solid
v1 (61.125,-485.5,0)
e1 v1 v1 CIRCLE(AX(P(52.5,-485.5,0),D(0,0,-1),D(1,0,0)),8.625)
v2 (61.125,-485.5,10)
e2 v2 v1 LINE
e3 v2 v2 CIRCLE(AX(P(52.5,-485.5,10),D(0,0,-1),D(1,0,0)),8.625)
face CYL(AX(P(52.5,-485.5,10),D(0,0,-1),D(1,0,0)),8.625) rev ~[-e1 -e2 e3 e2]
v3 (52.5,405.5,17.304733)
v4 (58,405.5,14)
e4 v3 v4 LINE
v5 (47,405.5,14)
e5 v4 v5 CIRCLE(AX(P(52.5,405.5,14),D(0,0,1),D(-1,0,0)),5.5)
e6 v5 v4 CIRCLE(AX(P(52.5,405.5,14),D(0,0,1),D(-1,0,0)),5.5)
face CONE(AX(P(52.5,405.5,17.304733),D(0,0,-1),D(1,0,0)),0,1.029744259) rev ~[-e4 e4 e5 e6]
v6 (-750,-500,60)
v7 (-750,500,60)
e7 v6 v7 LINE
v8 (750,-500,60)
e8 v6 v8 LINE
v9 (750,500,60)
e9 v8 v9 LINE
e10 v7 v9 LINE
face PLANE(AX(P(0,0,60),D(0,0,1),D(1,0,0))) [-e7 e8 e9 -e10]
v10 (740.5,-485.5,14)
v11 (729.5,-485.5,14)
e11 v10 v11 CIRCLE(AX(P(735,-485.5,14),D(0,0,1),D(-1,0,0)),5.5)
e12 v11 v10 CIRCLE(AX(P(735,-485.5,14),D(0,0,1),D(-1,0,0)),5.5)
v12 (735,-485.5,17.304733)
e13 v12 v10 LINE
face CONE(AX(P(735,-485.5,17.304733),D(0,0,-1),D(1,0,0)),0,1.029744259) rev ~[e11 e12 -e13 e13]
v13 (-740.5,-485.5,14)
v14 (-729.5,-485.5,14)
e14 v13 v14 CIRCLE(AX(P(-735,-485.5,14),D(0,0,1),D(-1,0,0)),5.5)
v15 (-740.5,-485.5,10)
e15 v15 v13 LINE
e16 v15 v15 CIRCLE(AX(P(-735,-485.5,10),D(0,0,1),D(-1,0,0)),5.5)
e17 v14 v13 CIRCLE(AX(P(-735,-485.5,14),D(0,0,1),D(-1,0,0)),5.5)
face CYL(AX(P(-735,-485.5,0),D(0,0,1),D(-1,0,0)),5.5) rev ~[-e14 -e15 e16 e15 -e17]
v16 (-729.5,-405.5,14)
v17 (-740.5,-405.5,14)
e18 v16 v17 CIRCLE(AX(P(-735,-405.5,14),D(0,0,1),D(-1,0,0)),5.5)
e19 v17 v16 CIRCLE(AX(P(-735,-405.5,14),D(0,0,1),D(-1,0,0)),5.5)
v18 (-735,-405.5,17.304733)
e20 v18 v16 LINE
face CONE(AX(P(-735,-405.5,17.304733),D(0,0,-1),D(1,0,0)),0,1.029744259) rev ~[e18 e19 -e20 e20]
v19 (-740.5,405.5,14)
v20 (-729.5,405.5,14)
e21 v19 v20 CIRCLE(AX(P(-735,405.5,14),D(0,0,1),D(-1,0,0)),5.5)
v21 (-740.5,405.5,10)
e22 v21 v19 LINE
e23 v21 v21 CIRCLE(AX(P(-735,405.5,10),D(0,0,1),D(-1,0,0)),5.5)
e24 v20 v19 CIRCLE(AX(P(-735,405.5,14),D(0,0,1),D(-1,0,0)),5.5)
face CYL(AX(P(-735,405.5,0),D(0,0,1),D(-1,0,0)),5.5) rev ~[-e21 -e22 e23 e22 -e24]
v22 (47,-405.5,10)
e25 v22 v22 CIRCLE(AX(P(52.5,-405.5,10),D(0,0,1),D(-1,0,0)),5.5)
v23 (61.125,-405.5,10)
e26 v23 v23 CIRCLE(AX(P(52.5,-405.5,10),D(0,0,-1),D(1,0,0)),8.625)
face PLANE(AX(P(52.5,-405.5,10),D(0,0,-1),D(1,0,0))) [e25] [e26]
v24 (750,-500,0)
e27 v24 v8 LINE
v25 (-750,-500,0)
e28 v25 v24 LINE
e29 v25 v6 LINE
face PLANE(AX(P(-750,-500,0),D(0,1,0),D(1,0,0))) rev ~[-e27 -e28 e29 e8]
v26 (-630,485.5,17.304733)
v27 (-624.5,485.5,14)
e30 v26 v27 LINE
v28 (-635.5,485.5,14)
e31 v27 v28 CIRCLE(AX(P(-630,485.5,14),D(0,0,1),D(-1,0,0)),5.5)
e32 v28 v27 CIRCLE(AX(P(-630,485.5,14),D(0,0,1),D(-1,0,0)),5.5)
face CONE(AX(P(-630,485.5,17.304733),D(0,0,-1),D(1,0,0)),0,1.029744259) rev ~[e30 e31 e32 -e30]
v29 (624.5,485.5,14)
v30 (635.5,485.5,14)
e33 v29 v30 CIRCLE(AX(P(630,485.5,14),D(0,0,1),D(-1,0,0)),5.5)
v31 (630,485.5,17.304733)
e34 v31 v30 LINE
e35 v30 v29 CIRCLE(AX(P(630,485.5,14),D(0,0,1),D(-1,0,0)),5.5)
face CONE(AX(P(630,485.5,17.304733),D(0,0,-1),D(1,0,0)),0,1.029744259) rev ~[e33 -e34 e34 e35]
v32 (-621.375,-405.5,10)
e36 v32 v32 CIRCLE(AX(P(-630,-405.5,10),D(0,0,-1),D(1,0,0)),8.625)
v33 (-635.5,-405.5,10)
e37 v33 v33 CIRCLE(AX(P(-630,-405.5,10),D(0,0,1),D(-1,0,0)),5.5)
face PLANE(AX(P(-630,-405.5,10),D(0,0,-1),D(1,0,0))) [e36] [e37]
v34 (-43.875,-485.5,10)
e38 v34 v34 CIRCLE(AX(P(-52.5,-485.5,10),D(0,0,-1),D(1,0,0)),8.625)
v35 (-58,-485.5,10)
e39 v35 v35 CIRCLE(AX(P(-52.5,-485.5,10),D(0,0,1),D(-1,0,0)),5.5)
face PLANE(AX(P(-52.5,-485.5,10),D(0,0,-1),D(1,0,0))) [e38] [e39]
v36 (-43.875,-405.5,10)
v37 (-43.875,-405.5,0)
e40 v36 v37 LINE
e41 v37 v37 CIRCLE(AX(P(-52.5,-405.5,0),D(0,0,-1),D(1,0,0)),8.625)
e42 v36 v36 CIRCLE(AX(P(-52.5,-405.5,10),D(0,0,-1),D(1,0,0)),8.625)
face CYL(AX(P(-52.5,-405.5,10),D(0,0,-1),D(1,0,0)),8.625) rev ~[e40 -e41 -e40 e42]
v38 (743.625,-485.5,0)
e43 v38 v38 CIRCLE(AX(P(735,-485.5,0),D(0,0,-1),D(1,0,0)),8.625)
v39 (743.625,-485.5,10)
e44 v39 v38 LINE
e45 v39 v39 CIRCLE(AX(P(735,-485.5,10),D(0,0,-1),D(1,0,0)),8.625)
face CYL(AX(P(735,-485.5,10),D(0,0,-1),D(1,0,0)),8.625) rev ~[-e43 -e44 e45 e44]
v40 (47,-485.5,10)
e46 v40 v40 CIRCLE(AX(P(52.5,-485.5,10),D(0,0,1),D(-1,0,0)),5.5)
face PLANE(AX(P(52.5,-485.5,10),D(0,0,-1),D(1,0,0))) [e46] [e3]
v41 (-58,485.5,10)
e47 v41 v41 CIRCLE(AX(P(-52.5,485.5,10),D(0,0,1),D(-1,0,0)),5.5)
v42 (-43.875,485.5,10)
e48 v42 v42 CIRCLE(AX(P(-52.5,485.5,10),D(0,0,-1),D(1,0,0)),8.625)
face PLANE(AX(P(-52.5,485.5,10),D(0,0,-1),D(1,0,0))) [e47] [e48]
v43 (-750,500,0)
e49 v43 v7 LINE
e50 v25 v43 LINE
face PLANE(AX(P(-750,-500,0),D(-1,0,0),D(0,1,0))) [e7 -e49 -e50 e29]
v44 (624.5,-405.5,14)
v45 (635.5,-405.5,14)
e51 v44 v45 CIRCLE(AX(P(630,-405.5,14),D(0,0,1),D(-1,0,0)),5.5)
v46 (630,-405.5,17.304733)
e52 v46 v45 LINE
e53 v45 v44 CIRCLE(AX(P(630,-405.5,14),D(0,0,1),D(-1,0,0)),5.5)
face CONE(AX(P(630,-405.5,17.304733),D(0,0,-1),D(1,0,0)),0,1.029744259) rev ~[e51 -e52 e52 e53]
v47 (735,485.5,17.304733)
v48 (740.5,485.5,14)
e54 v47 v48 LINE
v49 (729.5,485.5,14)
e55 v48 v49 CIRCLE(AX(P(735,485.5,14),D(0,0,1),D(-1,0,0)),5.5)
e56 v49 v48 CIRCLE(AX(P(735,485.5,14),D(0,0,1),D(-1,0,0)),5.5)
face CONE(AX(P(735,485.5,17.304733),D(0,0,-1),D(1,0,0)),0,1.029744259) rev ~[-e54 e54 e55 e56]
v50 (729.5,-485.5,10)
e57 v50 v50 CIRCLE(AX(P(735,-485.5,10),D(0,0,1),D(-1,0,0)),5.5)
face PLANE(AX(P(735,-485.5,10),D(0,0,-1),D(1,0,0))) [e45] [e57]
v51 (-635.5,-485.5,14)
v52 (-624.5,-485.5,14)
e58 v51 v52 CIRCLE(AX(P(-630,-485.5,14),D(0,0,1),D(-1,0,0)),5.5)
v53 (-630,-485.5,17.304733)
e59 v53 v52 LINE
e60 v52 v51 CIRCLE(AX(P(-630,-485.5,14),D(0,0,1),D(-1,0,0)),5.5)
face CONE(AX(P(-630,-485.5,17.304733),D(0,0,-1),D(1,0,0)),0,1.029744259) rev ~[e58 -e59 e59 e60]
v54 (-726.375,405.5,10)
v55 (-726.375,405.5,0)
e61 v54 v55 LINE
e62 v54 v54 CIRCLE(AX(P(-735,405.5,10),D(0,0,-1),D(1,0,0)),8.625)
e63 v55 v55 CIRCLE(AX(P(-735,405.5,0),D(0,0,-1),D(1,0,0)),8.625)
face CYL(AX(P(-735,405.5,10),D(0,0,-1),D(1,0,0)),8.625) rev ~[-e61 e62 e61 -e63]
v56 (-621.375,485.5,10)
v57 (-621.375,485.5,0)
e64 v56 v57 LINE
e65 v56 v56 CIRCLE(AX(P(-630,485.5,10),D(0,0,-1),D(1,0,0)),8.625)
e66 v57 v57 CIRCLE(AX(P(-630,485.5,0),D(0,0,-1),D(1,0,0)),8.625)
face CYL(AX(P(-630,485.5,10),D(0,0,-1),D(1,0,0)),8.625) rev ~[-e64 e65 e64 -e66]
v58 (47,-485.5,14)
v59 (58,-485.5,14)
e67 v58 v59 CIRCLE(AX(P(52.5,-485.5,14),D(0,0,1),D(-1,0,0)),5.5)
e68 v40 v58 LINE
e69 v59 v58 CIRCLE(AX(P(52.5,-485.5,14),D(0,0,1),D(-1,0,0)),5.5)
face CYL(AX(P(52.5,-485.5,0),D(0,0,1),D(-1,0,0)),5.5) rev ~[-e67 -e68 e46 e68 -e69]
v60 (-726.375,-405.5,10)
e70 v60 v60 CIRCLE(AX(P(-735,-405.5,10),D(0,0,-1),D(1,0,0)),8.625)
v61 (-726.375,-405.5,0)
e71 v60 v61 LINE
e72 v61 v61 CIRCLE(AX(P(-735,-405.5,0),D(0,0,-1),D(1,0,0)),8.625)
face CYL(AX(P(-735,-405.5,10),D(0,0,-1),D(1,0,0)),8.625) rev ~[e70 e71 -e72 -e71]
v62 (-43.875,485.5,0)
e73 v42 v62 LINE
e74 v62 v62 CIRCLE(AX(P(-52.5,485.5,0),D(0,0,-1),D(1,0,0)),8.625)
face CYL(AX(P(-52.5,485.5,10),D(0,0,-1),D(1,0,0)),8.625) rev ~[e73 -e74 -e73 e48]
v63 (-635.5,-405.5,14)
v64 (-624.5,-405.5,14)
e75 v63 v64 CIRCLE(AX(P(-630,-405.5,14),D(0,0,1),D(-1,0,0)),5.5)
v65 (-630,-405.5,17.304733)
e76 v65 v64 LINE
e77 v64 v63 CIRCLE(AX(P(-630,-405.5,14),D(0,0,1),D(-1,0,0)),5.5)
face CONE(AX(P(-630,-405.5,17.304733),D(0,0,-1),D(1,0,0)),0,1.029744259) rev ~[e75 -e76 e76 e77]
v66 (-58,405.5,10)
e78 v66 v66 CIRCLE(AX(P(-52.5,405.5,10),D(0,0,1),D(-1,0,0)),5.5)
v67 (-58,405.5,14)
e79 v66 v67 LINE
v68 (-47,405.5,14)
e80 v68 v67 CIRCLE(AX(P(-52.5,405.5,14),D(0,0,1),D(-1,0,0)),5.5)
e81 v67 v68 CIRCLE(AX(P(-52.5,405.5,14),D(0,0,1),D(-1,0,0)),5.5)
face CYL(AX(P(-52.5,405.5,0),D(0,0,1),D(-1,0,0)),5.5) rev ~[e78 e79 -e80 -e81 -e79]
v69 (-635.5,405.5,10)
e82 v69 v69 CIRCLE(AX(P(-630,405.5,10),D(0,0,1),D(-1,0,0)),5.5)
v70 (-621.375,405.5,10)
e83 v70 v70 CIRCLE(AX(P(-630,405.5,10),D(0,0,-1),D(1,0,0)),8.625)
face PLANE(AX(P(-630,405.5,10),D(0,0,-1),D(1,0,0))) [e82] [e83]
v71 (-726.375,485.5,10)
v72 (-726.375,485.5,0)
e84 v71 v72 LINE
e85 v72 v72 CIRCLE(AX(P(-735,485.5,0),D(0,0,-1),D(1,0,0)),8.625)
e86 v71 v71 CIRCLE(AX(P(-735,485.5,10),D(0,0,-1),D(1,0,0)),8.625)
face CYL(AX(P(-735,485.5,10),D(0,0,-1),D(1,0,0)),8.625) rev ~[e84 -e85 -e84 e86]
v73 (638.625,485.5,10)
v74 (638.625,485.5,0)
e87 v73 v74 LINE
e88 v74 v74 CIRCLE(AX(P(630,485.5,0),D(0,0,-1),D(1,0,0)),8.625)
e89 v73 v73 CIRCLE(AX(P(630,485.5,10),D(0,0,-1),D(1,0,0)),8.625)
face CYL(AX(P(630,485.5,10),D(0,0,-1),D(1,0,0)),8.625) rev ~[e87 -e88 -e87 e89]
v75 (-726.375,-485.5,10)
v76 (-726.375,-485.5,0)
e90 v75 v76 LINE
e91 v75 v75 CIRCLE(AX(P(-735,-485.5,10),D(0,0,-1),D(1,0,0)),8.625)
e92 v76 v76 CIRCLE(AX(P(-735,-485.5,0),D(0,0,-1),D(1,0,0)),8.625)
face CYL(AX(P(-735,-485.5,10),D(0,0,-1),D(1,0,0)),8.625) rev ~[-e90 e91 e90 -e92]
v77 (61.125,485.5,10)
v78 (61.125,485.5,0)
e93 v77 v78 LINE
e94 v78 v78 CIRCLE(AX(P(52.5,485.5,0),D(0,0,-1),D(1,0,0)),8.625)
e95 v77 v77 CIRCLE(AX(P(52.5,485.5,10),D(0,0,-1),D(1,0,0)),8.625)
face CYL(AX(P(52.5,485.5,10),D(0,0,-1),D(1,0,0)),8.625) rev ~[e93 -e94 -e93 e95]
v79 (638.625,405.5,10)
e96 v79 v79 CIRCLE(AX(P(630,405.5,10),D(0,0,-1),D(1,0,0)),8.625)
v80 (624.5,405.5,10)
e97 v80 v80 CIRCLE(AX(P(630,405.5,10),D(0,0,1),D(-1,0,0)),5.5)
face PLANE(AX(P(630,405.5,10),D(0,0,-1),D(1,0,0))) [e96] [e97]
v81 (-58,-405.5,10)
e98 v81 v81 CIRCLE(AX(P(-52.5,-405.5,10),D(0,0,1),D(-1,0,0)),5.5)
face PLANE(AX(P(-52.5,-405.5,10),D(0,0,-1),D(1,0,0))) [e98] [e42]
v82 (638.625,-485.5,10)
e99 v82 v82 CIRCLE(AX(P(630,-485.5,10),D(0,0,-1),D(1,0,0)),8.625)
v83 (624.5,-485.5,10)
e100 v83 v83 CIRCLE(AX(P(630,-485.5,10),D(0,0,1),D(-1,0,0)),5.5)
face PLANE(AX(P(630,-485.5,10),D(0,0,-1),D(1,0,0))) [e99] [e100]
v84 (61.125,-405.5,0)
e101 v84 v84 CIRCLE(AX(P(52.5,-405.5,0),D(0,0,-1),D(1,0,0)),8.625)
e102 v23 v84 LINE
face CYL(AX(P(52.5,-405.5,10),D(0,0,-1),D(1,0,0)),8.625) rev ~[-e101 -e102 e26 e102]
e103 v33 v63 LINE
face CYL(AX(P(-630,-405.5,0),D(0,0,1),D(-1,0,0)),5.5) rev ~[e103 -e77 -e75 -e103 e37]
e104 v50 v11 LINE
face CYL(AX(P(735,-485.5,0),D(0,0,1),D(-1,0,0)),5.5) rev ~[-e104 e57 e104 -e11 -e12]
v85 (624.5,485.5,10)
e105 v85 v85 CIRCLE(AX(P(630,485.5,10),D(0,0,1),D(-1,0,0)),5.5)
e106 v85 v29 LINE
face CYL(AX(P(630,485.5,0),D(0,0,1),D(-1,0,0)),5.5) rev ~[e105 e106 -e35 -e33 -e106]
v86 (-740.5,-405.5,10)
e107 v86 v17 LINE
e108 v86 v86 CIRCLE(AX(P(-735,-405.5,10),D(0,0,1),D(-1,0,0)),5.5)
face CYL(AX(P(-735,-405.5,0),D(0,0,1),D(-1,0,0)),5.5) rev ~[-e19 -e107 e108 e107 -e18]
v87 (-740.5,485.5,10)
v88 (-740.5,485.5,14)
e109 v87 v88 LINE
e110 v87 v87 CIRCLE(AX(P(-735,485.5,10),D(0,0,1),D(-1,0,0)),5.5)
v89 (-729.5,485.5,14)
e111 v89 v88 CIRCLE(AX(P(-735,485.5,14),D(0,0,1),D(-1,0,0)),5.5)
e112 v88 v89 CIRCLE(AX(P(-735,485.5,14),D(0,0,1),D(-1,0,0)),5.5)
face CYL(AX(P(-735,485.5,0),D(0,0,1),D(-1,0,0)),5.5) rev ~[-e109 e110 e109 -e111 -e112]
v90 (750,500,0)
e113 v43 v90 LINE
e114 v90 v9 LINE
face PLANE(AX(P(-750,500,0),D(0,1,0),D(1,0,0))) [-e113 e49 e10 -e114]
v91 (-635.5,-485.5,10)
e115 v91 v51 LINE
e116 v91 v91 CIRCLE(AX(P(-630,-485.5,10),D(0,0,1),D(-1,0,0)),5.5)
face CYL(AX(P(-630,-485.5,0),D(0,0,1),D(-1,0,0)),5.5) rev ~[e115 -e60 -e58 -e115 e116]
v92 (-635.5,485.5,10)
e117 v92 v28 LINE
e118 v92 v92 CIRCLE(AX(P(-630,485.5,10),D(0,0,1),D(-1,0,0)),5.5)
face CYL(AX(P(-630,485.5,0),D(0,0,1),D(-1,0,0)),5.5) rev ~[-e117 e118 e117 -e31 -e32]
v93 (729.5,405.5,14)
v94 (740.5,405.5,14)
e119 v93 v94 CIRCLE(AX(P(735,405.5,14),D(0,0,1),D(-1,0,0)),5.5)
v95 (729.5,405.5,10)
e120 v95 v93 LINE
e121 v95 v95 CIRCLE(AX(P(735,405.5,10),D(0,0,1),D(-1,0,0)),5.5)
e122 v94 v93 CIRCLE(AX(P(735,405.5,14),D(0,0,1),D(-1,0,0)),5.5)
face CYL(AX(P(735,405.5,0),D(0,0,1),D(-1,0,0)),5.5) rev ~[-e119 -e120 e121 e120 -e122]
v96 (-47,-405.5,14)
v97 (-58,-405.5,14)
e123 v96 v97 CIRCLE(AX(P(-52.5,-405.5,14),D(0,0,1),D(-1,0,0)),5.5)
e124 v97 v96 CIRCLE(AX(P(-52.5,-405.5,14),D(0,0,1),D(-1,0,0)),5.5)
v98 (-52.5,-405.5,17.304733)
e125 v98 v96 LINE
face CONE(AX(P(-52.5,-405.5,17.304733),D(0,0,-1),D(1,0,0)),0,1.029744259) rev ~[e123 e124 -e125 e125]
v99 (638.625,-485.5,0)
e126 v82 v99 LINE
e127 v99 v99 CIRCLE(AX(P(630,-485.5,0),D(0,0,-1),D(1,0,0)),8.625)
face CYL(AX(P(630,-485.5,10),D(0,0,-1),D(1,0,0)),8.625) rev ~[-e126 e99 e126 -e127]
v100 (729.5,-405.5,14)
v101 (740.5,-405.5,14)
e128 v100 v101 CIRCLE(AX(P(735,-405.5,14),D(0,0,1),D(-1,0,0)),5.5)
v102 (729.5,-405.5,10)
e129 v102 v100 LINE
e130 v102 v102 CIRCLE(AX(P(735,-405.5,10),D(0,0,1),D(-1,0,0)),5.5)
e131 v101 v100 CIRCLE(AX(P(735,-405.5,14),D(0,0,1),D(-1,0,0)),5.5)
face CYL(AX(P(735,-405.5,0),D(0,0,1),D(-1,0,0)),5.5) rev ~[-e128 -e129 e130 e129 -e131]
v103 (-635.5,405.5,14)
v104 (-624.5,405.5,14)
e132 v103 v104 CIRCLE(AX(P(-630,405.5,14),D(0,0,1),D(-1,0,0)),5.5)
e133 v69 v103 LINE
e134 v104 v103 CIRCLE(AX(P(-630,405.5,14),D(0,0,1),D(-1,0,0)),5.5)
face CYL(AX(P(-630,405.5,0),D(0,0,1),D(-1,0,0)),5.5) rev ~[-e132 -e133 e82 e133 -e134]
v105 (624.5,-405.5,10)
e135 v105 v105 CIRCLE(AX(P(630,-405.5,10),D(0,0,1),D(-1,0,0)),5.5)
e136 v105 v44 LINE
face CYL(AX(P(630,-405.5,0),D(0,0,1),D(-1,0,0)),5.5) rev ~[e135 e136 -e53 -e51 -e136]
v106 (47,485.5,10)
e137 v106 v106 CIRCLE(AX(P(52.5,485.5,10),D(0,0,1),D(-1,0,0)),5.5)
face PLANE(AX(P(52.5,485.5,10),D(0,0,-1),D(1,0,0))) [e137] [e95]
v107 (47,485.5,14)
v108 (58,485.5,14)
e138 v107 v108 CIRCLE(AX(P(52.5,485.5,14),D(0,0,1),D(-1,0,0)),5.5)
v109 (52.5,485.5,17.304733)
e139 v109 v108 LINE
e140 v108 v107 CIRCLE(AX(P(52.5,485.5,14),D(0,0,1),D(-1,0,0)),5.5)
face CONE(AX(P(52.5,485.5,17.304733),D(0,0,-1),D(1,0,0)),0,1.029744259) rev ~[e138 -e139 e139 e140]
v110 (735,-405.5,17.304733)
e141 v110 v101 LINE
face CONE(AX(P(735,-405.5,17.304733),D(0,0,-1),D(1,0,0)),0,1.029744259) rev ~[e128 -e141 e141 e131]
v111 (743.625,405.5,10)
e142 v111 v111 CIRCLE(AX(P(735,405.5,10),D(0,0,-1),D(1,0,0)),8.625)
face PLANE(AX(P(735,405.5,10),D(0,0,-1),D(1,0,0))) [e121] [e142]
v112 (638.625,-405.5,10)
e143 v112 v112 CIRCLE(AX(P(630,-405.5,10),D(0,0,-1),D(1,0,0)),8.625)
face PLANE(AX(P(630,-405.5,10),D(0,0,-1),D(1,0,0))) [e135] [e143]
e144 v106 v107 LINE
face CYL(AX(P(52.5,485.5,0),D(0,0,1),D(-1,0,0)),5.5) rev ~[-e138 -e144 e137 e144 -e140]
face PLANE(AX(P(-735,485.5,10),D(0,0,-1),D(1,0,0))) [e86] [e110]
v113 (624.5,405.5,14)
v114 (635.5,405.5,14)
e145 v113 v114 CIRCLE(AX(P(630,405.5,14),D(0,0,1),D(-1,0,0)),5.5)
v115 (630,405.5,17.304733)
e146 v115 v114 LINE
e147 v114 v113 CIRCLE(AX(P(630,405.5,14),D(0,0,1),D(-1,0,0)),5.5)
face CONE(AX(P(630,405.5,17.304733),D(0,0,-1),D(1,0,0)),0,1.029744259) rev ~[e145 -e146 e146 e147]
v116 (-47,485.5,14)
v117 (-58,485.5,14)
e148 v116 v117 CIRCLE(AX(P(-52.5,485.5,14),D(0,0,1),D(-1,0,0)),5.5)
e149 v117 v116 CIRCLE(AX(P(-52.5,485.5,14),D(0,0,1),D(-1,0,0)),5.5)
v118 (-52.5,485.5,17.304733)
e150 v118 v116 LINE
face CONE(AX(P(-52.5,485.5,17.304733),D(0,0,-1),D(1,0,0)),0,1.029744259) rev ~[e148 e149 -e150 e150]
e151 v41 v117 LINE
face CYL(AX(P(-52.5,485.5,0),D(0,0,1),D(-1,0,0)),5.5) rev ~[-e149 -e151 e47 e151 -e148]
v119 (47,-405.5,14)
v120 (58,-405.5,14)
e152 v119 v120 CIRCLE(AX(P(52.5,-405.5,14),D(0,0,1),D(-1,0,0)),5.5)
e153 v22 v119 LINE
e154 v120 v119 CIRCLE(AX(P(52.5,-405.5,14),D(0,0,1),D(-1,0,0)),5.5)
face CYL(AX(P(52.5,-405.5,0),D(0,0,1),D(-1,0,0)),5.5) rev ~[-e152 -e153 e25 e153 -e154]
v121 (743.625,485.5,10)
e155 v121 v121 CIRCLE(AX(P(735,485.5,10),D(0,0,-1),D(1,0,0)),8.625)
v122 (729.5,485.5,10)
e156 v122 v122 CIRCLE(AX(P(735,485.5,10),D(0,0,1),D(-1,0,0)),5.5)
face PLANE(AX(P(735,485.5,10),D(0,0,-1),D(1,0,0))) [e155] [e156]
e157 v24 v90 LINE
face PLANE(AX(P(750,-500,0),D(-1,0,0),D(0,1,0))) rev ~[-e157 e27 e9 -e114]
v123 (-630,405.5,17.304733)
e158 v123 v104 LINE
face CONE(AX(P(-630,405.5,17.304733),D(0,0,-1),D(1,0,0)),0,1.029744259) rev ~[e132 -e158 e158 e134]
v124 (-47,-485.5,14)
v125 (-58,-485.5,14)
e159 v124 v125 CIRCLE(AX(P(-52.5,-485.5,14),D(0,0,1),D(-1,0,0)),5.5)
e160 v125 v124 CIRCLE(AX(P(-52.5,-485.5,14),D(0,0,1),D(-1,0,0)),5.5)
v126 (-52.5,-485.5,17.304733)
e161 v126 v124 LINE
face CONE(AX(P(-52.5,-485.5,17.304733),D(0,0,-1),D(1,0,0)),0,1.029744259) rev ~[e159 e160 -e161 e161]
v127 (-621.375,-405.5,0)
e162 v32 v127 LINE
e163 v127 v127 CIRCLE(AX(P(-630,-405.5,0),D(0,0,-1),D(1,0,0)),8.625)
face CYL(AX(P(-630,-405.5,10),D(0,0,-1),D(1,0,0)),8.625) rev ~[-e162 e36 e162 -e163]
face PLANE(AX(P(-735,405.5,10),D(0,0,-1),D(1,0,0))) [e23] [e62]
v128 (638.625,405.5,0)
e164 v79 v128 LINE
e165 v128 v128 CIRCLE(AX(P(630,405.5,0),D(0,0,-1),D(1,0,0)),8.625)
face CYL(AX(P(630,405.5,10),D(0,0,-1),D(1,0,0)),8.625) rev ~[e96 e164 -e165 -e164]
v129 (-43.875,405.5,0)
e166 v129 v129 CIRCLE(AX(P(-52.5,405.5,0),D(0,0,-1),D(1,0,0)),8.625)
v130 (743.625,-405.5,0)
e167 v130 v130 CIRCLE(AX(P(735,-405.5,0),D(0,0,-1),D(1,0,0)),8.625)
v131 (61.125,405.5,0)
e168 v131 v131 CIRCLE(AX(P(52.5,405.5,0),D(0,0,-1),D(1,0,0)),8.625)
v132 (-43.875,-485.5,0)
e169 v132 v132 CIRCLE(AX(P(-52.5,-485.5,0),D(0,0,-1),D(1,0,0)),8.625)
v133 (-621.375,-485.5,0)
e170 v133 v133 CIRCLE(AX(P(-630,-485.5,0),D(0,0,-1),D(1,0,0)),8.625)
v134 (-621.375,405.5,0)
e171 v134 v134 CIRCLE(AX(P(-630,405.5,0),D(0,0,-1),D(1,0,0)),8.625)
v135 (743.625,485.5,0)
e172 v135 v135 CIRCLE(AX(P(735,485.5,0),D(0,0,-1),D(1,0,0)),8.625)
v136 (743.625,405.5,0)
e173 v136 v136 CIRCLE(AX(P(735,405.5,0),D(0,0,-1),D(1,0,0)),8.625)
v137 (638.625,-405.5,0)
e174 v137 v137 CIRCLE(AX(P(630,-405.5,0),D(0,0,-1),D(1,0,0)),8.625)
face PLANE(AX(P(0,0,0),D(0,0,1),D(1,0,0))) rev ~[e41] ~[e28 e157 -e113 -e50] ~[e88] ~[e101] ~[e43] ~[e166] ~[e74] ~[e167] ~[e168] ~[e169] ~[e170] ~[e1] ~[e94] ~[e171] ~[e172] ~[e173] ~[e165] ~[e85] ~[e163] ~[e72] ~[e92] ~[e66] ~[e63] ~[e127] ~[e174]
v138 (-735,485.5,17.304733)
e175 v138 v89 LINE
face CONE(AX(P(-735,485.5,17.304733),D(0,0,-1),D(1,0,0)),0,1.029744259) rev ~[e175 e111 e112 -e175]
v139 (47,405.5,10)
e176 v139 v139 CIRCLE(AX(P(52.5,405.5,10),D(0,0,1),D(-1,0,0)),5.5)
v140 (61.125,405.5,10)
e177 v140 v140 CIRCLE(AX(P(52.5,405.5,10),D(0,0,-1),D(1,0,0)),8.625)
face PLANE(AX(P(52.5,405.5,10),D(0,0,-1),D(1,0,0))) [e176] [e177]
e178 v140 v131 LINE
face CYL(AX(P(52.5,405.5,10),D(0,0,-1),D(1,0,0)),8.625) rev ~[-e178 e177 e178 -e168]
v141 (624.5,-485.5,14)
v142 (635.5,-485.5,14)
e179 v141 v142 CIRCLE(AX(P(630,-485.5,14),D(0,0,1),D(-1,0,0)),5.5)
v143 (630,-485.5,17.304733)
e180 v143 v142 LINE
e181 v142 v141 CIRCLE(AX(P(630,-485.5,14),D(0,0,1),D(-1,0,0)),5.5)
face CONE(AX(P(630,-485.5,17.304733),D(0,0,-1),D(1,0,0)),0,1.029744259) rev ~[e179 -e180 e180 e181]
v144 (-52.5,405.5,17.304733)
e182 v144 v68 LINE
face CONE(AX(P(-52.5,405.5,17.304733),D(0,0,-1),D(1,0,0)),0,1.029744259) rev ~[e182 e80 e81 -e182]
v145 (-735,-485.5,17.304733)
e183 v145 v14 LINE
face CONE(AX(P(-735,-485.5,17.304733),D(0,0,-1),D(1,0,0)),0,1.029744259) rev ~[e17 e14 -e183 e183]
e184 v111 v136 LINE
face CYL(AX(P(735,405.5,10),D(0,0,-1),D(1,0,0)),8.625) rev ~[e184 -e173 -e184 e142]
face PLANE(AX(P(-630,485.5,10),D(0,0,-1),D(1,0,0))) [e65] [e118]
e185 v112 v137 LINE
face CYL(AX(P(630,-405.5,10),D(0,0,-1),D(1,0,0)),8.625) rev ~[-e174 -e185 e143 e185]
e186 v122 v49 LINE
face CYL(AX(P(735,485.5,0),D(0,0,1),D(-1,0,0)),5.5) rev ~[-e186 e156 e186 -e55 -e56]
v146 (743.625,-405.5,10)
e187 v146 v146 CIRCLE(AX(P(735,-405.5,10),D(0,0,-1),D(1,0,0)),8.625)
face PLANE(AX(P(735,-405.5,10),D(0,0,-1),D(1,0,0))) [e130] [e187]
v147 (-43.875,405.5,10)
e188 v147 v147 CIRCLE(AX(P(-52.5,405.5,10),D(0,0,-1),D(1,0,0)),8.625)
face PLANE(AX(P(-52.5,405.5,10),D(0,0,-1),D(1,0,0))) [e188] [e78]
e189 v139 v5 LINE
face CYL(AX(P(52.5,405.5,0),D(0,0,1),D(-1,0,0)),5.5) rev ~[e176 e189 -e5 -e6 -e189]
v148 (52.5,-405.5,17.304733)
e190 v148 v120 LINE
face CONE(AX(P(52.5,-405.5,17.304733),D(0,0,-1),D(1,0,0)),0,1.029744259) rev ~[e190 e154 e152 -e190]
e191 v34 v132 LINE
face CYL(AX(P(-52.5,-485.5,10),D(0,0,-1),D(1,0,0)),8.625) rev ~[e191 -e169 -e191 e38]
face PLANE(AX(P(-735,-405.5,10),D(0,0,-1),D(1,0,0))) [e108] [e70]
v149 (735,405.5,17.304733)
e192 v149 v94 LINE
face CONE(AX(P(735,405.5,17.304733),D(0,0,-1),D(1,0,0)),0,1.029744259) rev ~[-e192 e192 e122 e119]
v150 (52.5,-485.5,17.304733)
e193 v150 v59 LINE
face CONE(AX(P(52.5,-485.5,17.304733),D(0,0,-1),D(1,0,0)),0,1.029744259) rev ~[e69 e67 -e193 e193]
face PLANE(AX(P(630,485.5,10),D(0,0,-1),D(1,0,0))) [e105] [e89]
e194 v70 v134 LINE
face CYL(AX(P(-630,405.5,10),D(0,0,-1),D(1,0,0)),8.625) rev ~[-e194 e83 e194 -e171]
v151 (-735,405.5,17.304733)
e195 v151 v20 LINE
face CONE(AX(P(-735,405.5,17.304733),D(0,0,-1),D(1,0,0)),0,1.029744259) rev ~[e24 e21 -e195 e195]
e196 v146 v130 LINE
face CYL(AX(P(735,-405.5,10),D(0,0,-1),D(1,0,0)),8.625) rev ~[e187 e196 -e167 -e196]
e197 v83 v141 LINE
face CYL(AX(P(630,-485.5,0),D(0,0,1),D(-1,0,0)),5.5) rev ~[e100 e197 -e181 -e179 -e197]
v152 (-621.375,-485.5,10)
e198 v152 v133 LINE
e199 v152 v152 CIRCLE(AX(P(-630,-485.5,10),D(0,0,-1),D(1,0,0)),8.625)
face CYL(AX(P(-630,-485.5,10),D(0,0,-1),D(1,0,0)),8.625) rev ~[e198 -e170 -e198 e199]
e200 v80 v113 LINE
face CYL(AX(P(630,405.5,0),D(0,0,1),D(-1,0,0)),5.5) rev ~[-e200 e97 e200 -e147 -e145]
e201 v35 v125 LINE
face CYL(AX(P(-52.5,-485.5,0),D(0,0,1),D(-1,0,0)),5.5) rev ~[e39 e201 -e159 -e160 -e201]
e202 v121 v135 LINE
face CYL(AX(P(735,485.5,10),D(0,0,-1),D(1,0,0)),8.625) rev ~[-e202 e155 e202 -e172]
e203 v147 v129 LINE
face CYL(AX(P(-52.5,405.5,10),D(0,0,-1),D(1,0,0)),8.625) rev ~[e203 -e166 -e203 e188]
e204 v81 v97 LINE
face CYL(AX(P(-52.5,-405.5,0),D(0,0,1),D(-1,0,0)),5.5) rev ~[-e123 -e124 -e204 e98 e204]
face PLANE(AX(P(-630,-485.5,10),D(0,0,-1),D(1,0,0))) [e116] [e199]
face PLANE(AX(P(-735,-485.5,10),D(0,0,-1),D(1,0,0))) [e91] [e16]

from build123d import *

# Parameters (mm, degrees)
F0_W           = 1500
F0_H           = 1000
F1_DEPTH       = 60
F3_D           = 11
F3_DEPTH       = 14
F3_CBORE_D     = 17.25
F3_CBORE_DEPTH = 10
F3_TIP         = 3.3047334047


with BuildPart() as f1:
    # F0 (on Top) → F1 (new body)
    with BuildSketch(Plane.XY):
        Rectangle(F0_W, F0_H)
    extrude(amount=F1_DEPTH)

    # F3
    with Locations(Plane(origin=(0, 0, 0), x_dir=(1, 0, 0), z_dir=(0, 0, -1))):
        with Locations((-735, 485.5), (-735, 405.5), (-630, 405.5), (-630, 485.5), (52.5, 485.5), (-52.5, 485.5), (-52.5, 405.5), (52.5, 405.5), (735, 405.5), (735, 485.5), (630, 485.5), (630, 405.5), (-735, -485.5), (-735, -405.5), (-630, -405.5), (-630, -485.5), (-52.5, -485.5), (-52.5, -405.5), (52.5, -485.5), (52.5, -405.5), (630, -485.5), (630, -405.5), (735, -405.5), (735, -485.5)):
            CounterBoreHole(F3_D / 2, F3_CBORE_D / 2, F3_CBORE_DEPTH, depth=F3_DEPTH)
            with Locations((0, 0, -(F3_DEPTH + F3_TIP / 2))):  # 118° drill point
                Cone(0, F3_D / 2, F3_TIP, mode=Mode.SUBTRACT)


solid = f1.part
